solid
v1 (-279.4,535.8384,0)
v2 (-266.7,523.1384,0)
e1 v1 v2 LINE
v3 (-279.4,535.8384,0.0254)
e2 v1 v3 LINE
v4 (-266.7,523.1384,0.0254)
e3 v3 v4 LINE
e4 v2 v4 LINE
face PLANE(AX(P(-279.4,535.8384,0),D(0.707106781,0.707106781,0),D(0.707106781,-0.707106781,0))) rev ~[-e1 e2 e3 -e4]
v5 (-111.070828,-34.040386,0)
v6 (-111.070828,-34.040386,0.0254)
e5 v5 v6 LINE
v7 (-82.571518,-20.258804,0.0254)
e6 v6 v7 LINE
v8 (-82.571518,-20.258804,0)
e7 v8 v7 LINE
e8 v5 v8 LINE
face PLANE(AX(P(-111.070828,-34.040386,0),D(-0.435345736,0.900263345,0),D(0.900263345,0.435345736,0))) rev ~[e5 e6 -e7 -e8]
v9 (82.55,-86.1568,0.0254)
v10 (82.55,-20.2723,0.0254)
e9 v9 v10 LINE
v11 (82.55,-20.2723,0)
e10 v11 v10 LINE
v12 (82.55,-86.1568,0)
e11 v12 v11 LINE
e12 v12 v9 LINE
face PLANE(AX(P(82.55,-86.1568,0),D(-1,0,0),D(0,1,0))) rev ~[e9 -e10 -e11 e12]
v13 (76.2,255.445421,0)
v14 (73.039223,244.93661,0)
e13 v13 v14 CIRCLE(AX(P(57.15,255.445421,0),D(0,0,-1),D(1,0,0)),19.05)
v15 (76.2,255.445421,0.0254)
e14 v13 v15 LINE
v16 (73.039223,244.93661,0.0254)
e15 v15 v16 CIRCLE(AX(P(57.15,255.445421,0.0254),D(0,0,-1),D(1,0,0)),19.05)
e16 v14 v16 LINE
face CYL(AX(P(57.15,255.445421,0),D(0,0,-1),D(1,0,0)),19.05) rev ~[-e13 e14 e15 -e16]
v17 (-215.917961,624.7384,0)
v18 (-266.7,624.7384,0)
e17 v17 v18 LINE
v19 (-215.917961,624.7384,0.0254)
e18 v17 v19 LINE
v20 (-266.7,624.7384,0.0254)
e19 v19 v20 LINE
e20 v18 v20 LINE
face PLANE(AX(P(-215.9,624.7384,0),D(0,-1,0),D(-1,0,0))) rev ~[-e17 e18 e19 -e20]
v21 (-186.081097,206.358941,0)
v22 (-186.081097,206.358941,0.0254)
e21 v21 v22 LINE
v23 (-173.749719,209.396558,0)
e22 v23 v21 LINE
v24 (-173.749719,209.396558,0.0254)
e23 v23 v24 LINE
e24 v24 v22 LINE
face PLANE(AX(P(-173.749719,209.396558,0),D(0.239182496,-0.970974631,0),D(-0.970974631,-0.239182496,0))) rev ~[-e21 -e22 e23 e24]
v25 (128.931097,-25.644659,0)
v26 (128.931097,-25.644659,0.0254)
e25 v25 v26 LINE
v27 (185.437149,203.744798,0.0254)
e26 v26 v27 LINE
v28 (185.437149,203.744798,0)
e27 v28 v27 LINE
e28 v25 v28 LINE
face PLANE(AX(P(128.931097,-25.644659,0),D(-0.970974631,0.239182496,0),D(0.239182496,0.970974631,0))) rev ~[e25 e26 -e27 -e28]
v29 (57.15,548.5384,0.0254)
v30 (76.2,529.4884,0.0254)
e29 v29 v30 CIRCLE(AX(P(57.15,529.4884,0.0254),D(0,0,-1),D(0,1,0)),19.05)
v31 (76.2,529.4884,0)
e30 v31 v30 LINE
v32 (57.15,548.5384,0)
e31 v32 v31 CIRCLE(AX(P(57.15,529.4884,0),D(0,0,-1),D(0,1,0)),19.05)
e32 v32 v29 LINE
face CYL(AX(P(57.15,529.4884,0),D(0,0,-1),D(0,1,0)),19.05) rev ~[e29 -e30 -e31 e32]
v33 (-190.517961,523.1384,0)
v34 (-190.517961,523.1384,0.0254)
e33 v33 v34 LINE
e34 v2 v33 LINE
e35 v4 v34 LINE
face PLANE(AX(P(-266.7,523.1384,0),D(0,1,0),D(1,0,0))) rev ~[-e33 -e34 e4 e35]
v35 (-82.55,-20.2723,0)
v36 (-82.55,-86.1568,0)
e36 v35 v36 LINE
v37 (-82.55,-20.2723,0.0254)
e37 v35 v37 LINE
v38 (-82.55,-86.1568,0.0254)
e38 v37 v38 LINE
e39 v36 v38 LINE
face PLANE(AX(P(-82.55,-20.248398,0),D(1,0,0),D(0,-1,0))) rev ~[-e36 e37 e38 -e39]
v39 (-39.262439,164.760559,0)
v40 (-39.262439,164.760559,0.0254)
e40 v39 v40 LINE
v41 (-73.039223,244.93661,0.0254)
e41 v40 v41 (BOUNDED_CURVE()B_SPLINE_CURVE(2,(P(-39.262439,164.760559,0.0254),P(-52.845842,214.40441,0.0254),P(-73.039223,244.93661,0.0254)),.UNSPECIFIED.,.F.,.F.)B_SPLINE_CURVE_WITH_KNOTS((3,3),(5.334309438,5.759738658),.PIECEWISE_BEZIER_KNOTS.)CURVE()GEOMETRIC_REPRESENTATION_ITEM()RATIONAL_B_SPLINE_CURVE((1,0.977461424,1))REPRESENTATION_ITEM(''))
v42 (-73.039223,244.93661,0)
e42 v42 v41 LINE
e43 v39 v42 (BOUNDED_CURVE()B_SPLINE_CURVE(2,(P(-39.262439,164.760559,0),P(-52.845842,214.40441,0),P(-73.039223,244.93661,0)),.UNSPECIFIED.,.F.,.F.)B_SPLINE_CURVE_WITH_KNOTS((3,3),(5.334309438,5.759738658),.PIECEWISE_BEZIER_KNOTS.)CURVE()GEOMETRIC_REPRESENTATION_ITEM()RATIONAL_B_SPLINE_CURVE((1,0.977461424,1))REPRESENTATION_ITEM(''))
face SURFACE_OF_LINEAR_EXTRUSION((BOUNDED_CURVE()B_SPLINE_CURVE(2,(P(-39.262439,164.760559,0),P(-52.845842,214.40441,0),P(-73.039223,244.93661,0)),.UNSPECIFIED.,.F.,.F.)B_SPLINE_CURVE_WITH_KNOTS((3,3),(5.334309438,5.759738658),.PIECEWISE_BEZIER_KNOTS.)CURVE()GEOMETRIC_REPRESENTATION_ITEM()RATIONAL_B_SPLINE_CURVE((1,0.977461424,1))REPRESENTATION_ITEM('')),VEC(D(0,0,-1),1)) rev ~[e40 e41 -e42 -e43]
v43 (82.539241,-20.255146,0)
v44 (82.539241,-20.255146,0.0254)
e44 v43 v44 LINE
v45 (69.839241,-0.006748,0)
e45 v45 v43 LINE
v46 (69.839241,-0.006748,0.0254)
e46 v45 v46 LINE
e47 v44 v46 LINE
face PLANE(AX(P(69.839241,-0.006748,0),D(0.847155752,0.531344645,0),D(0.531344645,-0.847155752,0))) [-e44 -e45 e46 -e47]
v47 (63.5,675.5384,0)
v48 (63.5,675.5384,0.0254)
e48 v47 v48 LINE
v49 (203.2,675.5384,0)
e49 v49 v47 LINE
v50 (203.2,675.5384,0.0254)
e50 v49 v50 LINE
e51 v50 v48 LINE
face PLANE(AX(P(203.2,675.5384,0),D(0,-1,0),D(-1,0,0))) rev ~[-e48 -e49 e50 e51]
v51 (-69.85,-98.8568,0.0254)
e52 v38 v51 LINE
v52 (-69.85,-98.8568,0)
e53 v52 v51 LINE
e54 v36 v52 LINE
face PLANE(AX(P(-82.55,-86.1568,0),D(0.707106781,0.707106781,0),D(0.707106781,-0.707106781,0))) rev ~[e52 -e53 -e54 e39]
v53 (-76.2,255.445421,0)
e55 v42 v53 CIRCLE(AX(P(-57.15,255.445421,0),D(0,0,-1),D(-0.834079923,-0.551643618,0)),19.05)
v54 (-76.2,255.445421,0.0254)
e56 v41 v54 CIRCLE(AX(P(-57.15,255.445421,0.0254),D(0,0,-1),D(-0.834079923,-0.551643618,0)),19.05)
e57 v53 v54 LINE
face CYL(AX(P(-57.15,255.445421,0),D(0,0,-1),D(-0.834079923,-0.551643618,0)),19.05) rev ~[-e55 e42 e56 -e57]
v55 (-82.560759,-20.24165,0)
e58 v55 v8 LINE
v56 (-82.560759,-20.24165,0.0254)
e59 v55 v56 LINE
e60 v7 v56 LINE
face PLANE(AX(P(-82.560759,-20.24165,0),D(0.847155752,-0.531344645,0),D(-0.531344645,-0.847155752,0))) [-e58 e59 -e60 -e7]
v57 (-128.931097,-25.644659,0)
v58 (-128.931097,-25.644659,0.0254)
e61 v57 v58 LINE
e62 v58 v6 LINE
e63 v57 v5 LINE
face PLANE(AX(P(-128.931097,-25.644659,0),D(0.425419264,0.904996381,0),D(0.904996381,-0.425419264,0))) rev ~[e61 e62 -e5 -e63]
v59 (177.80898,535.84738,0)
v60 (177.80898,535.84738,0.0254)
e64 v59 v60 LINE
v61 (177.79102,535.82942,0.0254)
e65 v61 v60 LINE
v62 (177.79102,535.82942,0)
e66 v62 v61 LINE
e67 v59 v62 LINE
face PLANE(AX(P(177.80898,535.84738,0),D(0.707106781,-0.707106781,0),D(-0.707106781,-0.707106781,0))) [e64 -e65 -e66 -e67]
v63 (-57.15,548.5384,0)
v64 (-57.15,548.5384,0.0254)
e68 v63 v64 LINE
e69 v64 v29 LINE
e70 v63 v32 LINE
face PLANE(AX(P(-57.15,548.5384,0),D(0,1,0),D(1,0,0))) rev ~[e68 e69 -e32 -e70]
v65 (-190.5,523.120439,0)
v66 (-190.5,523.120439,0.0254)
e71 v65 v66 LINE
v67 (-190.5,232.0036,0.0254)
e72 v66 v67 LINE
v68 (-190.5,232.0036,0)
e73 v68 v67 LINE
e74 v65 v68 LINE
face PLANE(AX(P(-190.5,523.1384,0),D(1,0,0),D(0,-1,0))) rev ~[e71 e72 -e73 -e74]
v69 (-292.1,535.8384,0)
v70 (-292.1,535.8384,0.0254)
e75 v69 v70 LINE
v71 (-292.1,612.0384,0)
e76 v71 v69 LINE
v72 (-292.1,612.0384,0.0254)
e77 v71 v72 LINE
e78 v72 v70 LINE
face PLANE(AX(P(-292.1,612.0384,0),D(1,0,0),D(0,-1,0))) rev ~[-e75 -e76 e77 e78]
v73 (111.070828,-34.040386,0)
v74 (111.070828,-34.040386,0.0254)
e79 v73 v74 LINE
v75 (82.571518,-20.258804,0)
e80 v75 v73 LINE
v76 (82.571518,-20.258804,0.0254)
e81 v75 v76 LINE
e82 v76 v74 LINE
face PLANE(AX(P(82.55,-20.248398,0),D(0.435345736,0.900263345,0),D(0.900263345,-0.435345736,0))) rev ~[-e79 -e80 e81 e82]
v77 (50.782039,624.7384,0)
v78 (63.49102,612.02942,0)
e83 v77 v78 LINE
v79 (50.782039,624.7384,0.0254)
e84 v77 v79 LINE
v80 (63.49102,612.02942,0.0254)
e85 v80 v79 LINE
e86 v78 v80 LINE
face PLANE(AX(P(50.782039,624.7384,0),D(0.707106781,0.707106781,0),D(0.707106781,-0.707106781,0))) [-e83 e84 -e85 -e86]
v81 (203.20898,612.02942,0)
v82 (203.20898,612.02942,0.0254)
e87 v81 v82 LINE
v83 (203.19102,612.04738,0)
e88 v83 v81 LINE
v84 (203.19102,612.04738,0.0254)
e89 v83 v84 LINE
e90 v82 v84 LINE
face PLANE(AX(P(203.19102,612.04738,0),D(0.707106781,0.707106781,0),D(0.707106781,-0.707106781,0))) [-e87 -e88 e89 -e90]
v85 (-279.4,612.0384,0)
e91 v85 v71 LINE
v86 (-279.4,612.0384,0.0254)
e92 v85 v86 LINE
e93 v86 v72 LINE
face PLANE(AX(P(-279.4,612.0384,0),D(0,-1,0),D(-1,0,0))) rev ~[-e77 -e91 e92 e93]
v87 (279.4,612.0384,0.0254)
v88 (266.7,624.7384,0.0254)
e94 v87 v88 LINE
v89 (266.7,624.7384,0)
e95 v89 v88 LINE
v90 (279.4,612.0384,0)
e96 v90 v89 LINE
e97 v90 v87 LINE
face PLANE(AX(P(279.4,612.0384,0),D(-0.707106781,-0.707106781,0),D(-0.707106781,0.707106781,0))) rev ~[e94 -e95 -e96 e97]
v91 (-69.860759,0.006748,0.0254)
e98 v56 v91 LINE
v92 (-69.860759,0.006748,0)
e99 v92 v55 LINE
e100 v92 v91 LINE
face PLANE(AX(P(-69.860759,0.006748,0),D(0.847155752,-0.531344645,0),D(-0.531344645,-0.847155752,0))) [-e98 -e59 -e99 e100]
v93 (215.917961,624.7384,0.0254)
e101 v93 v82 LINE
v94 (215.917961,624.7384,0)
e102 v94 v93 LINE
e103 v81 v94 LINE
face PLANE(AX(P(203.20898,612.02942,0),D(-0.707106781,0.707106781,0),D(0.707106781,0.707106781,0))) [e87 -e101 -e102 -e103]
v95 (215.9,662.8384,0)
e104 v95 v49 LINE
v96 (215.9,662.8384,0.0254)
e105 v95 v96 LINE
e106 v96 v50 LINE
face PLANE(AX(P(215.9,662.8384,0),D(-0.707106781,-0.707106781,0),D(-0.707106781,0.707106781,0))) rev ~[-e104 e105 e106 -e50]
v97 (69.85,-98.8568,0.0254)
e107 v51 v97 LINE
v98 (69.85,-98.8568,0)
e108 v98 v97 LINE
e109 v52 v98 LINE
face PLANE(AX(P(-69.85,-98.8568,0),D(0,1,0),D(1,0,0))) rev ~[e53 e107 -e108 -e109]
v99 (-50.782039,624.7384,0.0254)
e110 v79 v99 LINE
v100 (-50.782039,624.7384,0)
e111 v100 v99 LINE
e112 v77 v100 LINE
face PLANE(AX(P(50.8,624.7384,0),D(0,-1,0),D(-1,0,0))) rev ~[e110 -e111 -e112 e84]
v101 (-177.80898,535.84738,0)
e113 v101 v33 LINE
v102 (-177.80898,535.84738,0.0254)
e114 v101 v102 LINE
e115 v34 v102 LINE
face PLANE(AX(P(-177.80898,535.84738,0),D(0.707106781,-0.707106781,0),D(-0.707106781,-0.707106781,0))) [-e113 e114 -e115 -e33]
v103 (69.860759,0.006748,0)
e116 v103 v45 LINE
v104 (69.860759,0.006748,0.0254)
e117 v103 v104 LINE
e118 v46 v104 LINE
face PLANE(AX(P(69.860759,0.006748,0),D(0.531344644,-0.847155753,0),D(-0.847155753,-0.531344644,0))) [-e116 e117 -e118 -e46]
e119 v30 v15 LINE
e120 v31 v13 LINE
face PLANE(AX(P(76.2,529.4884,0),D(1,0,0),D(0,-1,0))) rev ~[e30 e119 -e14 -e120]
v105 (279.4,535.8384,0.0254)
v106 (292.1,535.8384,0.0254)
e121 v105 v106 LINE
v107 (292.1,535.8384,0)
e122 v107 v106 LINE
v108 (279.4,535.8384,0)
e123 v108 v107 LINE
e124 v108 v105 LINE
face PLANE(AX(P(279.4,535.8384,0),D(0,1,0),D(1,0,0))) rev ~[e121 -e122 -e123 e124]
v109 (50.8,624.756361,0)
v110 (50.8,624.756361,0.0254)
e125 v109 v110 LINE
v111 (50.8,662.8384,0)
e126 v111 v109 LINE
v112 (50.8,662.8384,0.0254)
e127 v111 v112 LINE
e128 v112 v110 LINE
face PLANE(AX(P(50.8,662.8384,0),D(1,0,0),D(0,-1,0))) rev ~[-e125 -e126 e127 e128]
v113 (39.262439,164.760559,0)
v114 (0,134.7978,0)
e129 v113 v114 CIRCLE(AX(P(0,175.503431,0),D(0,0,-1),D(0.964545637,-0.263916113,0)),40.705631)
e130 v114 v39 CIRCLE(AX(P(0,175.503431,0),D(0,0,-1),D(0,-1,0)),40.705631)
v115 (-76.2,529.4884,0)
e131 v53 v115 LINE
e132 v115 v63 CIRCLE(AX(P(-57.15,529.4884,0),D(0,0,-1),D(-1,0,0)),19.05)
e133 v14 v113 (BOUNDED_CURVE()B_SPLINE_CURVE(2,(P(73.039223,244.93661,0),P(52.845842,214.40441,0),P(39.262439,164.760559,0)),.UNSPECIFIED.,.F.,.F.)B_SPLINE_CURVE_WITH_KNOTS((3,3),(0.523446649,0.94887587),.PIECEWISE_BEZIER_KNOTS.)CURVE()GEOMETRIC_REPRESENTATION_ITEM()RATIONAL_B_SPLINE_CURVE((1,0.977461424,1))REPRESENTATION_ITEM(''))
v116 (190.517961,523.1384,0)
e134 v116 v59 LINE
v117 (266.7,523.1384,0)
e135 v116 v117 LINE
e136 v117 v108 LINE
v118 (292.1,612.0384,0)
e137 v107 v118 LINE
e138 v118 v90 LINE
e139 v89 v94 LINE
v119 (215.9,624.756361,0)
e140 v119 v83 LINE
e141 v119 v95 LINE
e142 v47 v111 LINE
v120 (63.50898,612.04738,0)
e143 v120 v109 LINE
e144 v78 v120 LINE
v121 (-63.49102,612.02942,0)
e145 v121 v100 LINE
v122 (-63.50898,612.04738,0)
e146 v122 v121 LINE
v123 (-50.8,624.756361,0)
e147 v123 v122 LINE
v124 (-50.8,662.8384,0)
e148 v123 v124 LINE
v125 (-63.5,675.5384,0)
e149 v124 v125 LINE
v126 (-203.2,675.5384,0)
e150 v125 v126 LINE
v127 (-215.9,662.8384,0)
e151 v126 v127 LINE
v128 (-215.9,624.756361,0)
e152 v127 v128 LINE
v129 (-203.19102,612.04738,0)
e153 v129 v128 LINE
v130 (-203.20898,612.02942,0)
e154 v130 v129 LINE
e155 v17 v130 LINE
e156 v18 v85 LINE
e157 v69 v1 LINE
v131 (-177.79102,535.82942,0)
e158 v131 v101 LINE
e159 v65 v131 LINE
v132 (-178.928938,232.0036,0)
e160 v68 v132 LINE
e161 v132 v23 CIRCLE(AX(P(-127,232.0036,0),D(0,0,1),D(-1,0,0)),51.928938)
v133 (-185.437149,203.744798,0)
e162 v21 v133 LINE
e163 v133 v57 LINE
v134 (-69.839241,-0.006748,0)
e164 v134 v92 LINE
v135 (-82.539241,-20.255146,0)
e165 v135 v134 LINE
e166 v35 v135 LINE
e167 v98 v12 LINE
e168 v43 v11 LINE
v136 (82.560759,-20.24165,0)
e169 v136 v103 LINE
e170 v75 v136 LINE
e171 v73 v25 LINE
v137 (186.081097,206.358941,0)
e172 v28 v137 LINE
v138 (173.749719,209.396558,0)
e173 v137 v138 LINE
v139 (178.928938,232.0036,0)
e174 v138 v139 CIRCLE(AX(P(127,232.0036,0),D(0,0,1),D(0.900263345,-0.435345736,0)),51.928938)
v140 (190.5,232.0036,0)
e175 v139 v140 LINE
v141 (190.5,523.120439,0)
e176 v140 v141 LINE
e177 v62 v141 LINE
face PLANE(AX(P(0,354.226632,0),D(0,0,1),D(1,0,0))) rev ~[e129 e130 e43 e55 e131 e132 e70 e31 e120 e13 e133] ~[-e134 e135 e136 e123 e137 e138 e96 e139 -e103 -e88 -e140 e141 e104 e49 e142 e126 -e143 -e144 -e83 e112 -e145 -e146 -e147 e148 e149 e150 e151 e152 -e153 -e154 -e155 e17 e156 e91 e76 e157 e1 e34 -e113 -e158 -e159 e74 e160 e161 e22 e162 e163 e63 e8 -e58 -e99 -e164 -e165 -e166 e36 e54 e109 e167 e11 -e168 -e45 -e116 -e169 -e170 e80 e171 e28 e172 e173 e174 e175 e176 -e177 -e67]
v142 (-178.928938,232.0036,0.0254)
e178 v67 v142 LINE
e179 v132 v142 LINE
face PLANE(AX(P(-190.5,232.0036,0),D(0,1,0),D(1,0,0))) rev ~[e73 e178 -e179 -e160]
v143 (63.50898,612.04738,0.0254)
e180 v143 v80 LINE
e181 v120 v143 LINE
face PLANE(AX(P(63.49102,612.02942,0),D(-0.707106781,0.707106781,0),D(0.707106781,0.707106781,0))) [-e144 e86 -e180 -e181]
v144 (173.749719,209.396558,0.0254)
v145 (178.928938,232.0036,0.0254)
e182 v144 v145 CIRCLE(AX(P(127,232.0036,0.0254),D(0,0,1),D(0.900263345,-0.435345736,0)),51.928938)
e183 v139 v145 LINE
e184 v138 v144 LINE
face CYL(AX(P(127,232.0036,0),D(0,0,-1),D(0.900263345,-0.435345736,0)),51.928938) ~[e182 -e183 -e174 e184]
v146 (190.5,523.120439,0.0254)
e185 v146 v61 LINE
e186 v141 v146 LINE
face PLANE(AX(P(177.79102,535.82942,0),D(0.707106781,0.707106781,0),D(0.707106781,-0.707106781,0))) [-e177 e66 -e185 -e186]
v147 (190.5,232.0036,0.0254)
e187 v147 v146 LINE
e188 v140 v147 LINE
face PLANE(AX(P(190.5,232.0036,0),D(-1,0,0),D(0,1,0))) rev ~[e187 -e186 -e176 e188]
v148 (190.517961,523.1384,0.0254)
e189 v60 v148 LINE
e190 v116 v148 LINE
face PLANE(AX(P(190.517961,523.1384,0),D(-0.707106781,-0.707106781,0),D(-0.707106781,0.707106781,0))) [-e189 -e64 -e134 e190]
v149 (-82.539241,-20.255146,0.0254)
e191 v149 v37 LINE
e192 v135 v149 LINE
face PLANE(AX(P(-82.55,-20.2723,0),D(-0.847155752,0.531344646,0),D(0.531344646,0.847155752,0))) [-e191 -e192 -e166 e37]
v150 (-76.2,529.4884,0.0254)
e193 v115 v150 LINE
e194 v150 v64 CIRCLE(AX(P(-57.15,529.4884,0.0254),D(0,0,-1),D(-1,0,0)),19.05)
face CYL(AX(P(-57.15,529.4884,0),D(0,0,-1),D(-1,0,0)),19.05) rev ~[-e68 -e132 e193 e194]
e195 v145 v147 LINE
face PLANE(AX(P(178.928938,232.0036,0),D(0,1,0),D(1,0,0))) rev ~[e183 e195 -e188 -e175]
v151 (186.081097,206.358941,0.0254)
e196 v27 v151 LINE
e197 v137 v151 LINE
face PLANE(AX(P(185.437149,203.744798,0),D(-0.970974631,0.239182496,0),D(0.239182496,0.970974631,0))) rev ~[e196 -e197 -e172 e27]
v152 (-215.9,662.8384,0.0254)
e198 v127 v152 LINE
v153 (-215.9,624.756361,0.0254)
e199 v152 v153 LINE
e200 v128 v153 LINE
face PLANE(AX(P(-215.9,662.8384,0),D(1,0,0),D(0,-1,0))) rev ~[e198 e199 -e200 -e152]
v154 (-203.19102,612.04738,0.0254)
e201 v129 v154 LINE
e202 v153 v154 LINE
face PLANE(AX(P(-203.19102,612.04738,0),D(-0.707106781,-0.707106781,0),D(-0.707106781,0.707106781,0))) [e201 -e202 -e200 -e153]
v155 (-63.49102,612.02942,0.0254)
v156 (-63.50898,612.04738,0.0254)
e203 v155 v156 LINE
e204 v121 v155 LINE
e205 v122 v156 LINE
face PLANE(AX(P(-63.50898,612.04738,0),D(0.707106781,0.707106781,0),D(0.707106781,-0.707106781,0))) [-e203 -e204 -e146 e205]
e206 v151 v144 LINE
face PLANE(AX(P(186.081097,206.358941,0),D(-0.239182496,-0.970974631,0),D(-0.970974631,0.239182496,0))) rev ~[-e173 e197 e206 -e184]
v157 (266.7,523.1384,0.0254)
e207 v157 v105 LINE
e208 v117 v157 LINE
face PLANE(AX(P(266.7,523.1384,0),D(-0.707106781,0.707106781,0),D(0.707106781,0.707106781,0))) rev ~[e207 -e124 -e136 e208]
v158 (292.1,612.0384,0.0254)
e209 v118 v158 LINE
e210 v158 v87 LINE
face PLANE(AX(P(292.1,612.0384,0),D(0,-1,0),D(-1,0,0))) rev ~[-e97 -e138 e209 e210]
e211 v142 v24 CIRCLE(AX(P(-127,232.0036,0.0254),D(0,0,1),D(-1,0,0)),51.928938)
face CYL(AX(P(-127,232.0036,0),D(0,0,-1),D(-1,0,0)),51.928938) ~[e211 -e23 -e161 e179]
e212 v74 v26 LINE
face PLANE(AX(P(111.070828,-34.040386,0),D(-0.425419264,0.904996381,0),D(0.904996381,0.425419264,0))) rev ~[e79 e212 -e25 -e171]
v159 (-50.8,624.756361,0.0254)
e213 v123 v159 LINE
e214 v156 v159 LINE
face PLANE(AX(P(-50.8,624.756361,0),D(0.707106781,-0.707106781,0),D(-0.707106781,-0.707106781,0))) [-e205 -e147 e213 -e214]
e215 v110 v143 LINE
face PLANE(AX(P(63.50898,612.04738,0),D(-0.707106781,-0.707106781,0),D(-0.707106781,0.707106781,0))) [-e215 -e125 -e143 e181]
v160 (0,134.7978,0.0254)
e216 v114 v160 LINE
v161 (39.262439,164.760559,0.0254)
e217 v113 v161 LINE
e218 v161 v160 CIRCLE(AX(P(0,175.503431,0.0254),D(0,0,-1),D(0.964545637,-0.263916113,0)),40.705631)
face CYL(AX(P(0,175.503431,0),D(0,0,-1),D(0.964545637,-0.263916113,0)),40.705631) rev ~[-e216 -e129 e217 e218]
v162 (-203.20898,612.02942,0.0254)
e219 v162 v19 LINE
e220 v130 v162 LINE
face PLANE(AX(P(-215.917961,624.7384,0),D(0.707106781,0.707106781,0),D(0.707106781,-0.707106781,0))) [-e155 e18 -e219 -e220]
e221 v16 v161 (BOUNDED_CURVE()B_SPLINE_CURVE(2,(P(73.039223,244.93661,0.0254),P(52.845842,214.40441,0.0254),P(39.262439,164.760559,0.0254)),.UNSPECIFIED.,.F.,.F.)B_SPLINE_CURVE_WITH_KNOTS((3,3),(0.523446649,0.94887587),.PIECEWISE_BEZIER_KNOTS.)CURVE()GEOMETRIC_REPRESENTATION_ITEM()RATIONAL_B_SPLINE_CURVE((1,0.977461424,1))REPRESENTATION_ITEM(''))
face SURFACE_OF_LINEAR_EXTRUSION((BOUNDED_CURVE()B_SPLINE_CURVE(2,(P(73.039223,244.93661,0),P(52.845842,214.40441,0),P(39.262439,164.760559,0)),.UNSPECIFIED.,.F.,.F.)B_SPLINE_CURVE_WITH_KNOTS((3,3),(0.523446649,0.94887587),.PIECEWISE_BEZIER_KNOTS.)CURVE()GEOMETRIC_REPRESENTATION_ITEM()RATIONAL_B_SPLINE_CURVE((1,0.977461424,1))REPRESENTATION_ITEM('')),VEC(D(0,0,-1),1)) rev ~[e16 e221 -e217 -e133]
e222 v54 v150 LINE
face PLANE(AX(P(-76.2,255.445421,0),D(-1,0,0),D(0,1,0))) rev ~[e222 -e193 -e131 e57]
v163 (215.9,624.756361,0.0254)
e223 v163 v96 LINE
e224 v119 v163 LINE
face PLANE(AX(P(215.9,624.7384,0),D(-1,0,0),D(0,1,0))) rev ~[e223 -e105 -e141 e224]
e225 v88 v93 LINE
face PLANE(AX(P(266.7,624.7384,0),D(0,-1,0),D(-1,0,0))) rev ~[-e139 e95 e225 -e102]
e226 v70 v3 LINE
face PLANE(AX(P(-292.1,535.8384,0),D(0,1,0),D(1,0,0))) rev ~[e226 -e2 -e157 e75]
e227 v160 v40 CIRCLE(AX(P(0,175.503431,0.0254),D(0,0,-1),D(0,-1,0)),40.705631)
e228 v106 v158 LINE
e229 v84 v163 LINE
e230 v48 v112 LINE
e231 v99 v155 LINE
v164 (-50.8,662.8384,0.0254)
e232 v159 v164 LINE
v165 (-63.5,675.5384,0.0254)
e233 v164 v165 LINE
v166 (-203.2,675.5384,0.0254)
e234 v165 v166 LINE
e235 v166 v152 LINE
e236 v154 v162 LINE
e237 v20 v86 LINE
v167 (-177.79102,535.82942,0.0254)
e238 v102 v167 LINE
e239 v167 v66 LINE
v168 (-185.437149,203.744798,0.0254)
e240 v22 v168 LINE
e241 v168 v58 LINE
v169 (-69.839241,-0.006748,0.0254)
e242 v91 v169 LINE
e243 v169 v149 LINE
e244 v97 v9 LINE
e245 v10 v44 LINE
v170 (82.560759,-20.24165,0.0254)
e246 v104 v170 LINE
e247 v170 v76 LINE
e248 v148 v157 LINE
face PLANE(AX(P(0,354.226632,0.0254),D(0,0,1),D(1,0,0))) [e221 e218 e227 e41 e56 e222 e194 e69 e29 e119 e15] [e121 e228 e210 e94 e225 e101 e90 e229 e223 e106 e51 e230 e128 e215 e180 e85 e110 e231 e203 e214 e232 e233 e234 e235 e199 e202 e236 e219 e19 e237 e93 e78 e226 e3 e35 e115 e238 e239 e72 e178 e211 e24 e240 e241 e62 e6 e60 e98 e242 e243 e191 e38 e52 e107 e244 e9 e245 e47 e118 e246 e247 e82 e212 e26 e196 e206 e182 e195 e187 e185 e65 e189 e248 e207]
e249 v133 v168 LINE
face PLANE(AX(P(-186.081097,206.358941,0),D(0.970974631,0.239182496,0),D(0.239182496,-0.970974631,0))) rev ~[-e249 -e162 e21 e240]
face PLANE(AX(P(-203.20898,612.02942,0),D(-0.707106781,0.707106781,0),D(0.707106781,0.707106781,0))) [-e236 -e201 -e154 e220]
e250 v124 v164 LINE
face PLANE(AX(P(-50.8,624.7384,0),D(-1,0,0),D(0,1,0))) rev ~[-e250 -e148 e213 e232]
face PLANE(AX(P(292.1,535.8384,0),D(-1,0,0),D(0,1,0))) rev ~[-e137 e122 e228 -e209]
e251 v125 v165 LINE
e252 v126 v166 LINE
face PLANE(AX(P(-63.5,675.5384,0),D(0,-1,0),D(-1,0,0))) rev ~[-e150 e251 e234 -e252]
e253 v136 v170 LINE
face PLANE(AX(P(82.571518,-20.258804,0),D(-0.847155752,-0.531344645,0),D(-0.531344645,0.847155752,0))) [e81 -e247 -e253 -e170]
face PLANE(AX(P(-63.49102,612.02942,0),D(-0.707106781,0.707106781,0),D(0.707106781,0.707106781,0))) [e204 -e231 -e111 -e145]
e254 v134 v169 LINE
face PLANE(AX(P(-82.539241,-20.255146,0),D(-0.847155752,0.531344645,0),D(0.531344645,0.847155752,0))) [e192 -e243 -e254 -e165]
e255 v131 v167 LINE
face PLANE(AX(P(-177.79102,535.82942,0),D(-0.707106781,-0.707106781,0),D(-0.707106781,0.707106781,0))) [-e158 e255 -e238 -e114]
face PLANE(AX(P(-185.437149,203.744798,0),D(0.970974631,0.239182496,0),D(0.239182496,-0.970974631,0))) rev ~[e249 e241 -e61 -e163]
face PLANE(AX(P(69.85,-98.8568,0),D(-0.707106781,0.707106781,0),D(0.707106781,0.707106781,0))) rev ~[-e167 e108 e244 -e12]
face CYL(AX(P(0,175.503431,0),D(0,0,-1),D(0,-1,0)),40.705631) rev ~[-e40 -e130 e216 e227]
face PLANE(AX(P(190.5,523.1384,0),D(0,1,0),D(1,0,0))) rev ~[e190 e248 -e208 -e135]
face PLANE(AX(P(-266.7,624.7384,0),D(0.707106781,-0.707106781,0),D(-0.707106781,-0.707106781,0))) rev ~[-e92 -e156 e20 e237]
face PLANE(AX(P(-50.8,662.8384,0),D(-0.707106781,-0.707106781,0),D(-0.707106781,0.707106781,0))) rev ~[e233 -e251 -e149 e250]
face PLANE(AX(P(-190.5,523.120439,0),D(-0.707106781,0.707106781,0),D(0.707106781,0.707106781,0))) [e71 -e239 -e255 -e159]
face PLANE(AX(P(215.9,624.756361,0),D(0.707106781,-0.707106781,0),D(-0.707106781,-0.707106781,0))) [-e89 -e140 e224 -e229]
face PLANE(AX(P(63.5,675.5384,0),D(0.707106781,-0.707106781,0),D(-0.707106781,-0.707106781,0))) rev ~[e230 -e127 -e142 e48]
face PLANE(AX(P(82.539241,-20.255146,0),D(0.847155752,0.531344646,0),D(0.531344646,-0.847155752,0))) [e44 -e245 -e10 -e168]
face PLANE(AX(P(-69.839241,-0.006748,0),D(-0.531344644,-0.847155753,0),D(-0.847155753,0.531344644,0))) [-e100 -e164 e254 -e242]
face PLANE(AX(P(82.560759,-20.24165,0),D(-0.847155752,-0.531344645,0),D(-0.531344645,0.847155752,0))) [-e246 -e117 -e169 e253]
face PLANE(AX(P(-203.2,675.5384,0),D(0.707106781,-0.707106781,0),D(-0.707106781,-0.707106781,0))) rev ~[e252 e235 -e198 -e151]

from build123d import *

# Parameters (mm, degrees)
F1_DEPTH = 0.0254
F3_DEPTH = 0.0264001


with BuildPart() as f1:
    # F0 (on Top) → F1 (new body)
    with BuildSketch(Plane.XY):
        with BuildLine():
            Line((-266.7, 523.1384), (-190.5, 523.1384))
            Line((-190.5, 523.1384), (-190.5, 232.0036))
            Line((-190.5, 232.0036), (-178.928937776, 232.0036))
            ThreePointArc((-178.928937776, 232.0036), (-177.6175752012, 220.4072359452), (-173.7497192111, 209.3965583486))
            Line((-173.7497192111, 209.3965583486), (-186.0810970216, 206.3589406484))
            Line((-186.0810970216, 206.3589406484), (-185.4371490138, 203.7447979358))
            Line((-185.4371490138, 203.7447979358), (-128.9310970216, -25.6446593516))
            Line((-128.9310970216, -25.6446593516), (-111.0708283601, -34.0403861296))
            Line((-111.0708283601, -34.0403861296), (-82.55, -20.2483983797))
            Line((-82.55, -20.2483983797), (-82.55, -86.1568))
            Line((-82.55, -86.1568), (-69.85, -98.8568))
            Line((-69.85, -98.8568), (0, -98.8568))
            Line((0, -98.8568), (69.85, -98.8568))
            Line((69.85, -98.8568), (82.55, -86.1568))
            Line((82.55, -86.1568), (82.55, -20.2483983797))
            Line((82.55, -20.2483983797), (111.0708283601, -34.0403861296))
            Line((111.0708283601, -34.0403861296), (128.9310970216, -25.6446593516))
            Line((128.9310970216, -25.6446593516), (185.4371490138, 203.7447979358))
            Line((185.4371490138, 203.7447979358), (186.0810970216, 206.3589406484))
            Line((186.0810970216, 206.3589406484), (173.7497192111, 209.3965583486))
            ThreePointArc((173.7497192111, 209.3965583486), (177.6175752012, 220.4072359452), (178.928937776, 232.0036))
            Line((178.928937776, 232.0036), (190.5, 232.0036))
            Line((190.5, 232.0036), (190.5, 523.1384))
            Line((190.5, 523.1384), (266.7, 523.1384))
            Line((266.7, 523.1384), (279.4, 535.8384))
            Line((279.4, 535.8384), (292.1, 535.8384))
            Line((292.1, 535.8384), (292.1, 612.0384))
            Line((292.1, 612.0384), (279.4, 612.0384))
            Line((279.4, 612.0384), (266.7, 624.7384))
            Line((266.7, 624.7384), (215.9, 624.7384))
            Line((215.9, 624.7384), (215.9, 662.8384))
            Line((215.9, 662.8384), (203.2, 675.5384))
            Line((203.2, 675.5384), (127, 675.5384))
            Line((127, 675.5384), (63.5, 675.5384))
            Line((63.5, 675.5384), (50.8, 662.8384))
            Line((50.8, 662.8384), (50.8, 624.7384))
            Line((50.8, 624.7384), (0, 624.7384))
            Line((0, 624.7384), (-50.8, 624.7384))
            Line((-50.8, 624.7384), (-50.8, 662.8384))
            Line((-50.8, 662.8384), (-63.5, 675.5384))
            Line((-63.5, 675.5384), (-127, 675.5384))
            Line((-127, 675.5384), (-203.2, 675.5384))
            Line((-203.2, 675.5384), (-215.9, 662.8384))
            Line((-215.9, 662.8384), (-215.9, 624.7384))
            Line((-215.9, 624.7384), (-266.7, 624.7384))
            Line((-266.7, 624.7384), (-279.4, 612.0384))
            Line((-279.4, 612.0384), (-292.1, 612.0384))
            Line((-292.1, 612.0384), (-292.1, 535.8384))
            Line((-292.1, 535.8384), (-279.4, 535.8384))
            Line((-279.4, 535.8384), (-266.7, 523.1384))
        make_face()
        with BuildLine():
            ThreePointArc((39.2624389008, 164.7605591868), (24.6946656513, 143.1441682497), (0, 134.7978))
            ThreePointArc((0, 134.7978), (-24.6946656513, 143.1441682497), (-39.2624389008, 164.7605591868))
            add(Edge.make_bspline(
                [(-39.2624389008, 164.7605591868), (-52.8458419076, 214.4044098408), (-73.0392225397, 244.9366100052)],
                knots=[5.3343094377, 5.3343094377, 5.3343094377, 5.7597386581, 5.7597386581, 5.7597386581], degree=2, weights=[1, 0.9774614244, 1]))
            ThreePointArc((-73.0392225397, 244.9366100052), (-75.3926997643, 249.9584905228), (-76.2, 255.4454209315))
            Line((-76.2, 255.4454209315), (-76.2, 472.3384))
            Line((-76.2, 472.3384), (-76.2, 529.4884))
            ThreePointArc((-76.2, 529.4884), (-70.6203841816, 542.9587841816), (-57.15, 548.5384))
            Line((-57.15, 548.5384), (0, 548.5384))
            Line((0, 548.5384), (57.15, 548.5384))
            ThreePointArc((57.15, 548.5384), (70.6203841816, 542.9587841816), (76.2, 529.4884))
            Line((76.2, 529.4884), (76.2, 472.3384))
            Line((76.2, 472.3384), (76.2, 255.4454209315))
            ThreePointArc((76.2, 255.4454209315), (75.3926997643, 249.9584905228), (73.0392225397, 244.9366100052))
            add(Edge.make_bspline(
                [(73.0392225397, 244.9366100052), (52.8458419076, 214.4044098408), (39.2624389008, 164.7605591868)],
                knots=[0.5234466491, 0.5234466491, 0.5234466491, 0.9488758695, 0.9488758695, 0.9488758695], degree=2, weights=[1, 0.9774614244, 1]))
        make_face(mode=Mode.SUBTRACT)
    extrude(amount=F1_DEPTH)

    # F2 (on Top) → F3 (cut, through all)
    with BuildSketch(Plane.XY):
        Polygon((-203.1910197439, 612.0473802561), (-215.9, 624.7563605122), (-215.9179605122, 624.7384), (-203.2089802561, 612.0294197439), align=None)
        Polygon((-50.7820394878, 624.7384), (-50.8, 624.7563605122), (-63.5089802561, 612.0473802561), (-63.4910197439, 612.0294197439), align=None)
        Polygon((-69.8607588781, 0.006748077), (-82.5607588781, -20.2416503028), (-82.5715177561, -20.2588038499), (-82.55, -20.2723000039), (-82.5392411219, -20.2551464567), (-69.8392411219, -0.006748077), align=None)
        Polygon((50.8, 624.7563605122), (50.7820394878, 624.7384), (63.4910197439, 612.0294197439), (63.5089802561, 612.0473802561), align=None)
        Polygon((215.9, 624.7563605122), (203.1910197439, 612.0473802561), (203.2089802561, 612.0294197439), (215.9179605122, 624.7384), align=None)
        Polygon((82.5607588781, -20.2416503028), (69.8607588781, 0.006748077), (69.8392411219, -0.006748077), (82.5392411219, -20.2551464567), (82.55, -20.2723000039), (82.5715177561, -20.2588038499), align=None)
        Polygon((-177.8089802561, 535.8473802561), (-190.5179605122, 523.1384), (-190.5, 523.1204394878), (-177.7910197439, 535.8294197439), align=None)
        Polygon((190.5, 523.1204394878), (190.5179605122, 523.1384), (177.8089802561, 535.8473802561), (177.7910197439, 535.8294197439), align=None)
    extrude(amount=F3_DEPTH, mode=Mode.SUBTRACT)


solid = f1.part
